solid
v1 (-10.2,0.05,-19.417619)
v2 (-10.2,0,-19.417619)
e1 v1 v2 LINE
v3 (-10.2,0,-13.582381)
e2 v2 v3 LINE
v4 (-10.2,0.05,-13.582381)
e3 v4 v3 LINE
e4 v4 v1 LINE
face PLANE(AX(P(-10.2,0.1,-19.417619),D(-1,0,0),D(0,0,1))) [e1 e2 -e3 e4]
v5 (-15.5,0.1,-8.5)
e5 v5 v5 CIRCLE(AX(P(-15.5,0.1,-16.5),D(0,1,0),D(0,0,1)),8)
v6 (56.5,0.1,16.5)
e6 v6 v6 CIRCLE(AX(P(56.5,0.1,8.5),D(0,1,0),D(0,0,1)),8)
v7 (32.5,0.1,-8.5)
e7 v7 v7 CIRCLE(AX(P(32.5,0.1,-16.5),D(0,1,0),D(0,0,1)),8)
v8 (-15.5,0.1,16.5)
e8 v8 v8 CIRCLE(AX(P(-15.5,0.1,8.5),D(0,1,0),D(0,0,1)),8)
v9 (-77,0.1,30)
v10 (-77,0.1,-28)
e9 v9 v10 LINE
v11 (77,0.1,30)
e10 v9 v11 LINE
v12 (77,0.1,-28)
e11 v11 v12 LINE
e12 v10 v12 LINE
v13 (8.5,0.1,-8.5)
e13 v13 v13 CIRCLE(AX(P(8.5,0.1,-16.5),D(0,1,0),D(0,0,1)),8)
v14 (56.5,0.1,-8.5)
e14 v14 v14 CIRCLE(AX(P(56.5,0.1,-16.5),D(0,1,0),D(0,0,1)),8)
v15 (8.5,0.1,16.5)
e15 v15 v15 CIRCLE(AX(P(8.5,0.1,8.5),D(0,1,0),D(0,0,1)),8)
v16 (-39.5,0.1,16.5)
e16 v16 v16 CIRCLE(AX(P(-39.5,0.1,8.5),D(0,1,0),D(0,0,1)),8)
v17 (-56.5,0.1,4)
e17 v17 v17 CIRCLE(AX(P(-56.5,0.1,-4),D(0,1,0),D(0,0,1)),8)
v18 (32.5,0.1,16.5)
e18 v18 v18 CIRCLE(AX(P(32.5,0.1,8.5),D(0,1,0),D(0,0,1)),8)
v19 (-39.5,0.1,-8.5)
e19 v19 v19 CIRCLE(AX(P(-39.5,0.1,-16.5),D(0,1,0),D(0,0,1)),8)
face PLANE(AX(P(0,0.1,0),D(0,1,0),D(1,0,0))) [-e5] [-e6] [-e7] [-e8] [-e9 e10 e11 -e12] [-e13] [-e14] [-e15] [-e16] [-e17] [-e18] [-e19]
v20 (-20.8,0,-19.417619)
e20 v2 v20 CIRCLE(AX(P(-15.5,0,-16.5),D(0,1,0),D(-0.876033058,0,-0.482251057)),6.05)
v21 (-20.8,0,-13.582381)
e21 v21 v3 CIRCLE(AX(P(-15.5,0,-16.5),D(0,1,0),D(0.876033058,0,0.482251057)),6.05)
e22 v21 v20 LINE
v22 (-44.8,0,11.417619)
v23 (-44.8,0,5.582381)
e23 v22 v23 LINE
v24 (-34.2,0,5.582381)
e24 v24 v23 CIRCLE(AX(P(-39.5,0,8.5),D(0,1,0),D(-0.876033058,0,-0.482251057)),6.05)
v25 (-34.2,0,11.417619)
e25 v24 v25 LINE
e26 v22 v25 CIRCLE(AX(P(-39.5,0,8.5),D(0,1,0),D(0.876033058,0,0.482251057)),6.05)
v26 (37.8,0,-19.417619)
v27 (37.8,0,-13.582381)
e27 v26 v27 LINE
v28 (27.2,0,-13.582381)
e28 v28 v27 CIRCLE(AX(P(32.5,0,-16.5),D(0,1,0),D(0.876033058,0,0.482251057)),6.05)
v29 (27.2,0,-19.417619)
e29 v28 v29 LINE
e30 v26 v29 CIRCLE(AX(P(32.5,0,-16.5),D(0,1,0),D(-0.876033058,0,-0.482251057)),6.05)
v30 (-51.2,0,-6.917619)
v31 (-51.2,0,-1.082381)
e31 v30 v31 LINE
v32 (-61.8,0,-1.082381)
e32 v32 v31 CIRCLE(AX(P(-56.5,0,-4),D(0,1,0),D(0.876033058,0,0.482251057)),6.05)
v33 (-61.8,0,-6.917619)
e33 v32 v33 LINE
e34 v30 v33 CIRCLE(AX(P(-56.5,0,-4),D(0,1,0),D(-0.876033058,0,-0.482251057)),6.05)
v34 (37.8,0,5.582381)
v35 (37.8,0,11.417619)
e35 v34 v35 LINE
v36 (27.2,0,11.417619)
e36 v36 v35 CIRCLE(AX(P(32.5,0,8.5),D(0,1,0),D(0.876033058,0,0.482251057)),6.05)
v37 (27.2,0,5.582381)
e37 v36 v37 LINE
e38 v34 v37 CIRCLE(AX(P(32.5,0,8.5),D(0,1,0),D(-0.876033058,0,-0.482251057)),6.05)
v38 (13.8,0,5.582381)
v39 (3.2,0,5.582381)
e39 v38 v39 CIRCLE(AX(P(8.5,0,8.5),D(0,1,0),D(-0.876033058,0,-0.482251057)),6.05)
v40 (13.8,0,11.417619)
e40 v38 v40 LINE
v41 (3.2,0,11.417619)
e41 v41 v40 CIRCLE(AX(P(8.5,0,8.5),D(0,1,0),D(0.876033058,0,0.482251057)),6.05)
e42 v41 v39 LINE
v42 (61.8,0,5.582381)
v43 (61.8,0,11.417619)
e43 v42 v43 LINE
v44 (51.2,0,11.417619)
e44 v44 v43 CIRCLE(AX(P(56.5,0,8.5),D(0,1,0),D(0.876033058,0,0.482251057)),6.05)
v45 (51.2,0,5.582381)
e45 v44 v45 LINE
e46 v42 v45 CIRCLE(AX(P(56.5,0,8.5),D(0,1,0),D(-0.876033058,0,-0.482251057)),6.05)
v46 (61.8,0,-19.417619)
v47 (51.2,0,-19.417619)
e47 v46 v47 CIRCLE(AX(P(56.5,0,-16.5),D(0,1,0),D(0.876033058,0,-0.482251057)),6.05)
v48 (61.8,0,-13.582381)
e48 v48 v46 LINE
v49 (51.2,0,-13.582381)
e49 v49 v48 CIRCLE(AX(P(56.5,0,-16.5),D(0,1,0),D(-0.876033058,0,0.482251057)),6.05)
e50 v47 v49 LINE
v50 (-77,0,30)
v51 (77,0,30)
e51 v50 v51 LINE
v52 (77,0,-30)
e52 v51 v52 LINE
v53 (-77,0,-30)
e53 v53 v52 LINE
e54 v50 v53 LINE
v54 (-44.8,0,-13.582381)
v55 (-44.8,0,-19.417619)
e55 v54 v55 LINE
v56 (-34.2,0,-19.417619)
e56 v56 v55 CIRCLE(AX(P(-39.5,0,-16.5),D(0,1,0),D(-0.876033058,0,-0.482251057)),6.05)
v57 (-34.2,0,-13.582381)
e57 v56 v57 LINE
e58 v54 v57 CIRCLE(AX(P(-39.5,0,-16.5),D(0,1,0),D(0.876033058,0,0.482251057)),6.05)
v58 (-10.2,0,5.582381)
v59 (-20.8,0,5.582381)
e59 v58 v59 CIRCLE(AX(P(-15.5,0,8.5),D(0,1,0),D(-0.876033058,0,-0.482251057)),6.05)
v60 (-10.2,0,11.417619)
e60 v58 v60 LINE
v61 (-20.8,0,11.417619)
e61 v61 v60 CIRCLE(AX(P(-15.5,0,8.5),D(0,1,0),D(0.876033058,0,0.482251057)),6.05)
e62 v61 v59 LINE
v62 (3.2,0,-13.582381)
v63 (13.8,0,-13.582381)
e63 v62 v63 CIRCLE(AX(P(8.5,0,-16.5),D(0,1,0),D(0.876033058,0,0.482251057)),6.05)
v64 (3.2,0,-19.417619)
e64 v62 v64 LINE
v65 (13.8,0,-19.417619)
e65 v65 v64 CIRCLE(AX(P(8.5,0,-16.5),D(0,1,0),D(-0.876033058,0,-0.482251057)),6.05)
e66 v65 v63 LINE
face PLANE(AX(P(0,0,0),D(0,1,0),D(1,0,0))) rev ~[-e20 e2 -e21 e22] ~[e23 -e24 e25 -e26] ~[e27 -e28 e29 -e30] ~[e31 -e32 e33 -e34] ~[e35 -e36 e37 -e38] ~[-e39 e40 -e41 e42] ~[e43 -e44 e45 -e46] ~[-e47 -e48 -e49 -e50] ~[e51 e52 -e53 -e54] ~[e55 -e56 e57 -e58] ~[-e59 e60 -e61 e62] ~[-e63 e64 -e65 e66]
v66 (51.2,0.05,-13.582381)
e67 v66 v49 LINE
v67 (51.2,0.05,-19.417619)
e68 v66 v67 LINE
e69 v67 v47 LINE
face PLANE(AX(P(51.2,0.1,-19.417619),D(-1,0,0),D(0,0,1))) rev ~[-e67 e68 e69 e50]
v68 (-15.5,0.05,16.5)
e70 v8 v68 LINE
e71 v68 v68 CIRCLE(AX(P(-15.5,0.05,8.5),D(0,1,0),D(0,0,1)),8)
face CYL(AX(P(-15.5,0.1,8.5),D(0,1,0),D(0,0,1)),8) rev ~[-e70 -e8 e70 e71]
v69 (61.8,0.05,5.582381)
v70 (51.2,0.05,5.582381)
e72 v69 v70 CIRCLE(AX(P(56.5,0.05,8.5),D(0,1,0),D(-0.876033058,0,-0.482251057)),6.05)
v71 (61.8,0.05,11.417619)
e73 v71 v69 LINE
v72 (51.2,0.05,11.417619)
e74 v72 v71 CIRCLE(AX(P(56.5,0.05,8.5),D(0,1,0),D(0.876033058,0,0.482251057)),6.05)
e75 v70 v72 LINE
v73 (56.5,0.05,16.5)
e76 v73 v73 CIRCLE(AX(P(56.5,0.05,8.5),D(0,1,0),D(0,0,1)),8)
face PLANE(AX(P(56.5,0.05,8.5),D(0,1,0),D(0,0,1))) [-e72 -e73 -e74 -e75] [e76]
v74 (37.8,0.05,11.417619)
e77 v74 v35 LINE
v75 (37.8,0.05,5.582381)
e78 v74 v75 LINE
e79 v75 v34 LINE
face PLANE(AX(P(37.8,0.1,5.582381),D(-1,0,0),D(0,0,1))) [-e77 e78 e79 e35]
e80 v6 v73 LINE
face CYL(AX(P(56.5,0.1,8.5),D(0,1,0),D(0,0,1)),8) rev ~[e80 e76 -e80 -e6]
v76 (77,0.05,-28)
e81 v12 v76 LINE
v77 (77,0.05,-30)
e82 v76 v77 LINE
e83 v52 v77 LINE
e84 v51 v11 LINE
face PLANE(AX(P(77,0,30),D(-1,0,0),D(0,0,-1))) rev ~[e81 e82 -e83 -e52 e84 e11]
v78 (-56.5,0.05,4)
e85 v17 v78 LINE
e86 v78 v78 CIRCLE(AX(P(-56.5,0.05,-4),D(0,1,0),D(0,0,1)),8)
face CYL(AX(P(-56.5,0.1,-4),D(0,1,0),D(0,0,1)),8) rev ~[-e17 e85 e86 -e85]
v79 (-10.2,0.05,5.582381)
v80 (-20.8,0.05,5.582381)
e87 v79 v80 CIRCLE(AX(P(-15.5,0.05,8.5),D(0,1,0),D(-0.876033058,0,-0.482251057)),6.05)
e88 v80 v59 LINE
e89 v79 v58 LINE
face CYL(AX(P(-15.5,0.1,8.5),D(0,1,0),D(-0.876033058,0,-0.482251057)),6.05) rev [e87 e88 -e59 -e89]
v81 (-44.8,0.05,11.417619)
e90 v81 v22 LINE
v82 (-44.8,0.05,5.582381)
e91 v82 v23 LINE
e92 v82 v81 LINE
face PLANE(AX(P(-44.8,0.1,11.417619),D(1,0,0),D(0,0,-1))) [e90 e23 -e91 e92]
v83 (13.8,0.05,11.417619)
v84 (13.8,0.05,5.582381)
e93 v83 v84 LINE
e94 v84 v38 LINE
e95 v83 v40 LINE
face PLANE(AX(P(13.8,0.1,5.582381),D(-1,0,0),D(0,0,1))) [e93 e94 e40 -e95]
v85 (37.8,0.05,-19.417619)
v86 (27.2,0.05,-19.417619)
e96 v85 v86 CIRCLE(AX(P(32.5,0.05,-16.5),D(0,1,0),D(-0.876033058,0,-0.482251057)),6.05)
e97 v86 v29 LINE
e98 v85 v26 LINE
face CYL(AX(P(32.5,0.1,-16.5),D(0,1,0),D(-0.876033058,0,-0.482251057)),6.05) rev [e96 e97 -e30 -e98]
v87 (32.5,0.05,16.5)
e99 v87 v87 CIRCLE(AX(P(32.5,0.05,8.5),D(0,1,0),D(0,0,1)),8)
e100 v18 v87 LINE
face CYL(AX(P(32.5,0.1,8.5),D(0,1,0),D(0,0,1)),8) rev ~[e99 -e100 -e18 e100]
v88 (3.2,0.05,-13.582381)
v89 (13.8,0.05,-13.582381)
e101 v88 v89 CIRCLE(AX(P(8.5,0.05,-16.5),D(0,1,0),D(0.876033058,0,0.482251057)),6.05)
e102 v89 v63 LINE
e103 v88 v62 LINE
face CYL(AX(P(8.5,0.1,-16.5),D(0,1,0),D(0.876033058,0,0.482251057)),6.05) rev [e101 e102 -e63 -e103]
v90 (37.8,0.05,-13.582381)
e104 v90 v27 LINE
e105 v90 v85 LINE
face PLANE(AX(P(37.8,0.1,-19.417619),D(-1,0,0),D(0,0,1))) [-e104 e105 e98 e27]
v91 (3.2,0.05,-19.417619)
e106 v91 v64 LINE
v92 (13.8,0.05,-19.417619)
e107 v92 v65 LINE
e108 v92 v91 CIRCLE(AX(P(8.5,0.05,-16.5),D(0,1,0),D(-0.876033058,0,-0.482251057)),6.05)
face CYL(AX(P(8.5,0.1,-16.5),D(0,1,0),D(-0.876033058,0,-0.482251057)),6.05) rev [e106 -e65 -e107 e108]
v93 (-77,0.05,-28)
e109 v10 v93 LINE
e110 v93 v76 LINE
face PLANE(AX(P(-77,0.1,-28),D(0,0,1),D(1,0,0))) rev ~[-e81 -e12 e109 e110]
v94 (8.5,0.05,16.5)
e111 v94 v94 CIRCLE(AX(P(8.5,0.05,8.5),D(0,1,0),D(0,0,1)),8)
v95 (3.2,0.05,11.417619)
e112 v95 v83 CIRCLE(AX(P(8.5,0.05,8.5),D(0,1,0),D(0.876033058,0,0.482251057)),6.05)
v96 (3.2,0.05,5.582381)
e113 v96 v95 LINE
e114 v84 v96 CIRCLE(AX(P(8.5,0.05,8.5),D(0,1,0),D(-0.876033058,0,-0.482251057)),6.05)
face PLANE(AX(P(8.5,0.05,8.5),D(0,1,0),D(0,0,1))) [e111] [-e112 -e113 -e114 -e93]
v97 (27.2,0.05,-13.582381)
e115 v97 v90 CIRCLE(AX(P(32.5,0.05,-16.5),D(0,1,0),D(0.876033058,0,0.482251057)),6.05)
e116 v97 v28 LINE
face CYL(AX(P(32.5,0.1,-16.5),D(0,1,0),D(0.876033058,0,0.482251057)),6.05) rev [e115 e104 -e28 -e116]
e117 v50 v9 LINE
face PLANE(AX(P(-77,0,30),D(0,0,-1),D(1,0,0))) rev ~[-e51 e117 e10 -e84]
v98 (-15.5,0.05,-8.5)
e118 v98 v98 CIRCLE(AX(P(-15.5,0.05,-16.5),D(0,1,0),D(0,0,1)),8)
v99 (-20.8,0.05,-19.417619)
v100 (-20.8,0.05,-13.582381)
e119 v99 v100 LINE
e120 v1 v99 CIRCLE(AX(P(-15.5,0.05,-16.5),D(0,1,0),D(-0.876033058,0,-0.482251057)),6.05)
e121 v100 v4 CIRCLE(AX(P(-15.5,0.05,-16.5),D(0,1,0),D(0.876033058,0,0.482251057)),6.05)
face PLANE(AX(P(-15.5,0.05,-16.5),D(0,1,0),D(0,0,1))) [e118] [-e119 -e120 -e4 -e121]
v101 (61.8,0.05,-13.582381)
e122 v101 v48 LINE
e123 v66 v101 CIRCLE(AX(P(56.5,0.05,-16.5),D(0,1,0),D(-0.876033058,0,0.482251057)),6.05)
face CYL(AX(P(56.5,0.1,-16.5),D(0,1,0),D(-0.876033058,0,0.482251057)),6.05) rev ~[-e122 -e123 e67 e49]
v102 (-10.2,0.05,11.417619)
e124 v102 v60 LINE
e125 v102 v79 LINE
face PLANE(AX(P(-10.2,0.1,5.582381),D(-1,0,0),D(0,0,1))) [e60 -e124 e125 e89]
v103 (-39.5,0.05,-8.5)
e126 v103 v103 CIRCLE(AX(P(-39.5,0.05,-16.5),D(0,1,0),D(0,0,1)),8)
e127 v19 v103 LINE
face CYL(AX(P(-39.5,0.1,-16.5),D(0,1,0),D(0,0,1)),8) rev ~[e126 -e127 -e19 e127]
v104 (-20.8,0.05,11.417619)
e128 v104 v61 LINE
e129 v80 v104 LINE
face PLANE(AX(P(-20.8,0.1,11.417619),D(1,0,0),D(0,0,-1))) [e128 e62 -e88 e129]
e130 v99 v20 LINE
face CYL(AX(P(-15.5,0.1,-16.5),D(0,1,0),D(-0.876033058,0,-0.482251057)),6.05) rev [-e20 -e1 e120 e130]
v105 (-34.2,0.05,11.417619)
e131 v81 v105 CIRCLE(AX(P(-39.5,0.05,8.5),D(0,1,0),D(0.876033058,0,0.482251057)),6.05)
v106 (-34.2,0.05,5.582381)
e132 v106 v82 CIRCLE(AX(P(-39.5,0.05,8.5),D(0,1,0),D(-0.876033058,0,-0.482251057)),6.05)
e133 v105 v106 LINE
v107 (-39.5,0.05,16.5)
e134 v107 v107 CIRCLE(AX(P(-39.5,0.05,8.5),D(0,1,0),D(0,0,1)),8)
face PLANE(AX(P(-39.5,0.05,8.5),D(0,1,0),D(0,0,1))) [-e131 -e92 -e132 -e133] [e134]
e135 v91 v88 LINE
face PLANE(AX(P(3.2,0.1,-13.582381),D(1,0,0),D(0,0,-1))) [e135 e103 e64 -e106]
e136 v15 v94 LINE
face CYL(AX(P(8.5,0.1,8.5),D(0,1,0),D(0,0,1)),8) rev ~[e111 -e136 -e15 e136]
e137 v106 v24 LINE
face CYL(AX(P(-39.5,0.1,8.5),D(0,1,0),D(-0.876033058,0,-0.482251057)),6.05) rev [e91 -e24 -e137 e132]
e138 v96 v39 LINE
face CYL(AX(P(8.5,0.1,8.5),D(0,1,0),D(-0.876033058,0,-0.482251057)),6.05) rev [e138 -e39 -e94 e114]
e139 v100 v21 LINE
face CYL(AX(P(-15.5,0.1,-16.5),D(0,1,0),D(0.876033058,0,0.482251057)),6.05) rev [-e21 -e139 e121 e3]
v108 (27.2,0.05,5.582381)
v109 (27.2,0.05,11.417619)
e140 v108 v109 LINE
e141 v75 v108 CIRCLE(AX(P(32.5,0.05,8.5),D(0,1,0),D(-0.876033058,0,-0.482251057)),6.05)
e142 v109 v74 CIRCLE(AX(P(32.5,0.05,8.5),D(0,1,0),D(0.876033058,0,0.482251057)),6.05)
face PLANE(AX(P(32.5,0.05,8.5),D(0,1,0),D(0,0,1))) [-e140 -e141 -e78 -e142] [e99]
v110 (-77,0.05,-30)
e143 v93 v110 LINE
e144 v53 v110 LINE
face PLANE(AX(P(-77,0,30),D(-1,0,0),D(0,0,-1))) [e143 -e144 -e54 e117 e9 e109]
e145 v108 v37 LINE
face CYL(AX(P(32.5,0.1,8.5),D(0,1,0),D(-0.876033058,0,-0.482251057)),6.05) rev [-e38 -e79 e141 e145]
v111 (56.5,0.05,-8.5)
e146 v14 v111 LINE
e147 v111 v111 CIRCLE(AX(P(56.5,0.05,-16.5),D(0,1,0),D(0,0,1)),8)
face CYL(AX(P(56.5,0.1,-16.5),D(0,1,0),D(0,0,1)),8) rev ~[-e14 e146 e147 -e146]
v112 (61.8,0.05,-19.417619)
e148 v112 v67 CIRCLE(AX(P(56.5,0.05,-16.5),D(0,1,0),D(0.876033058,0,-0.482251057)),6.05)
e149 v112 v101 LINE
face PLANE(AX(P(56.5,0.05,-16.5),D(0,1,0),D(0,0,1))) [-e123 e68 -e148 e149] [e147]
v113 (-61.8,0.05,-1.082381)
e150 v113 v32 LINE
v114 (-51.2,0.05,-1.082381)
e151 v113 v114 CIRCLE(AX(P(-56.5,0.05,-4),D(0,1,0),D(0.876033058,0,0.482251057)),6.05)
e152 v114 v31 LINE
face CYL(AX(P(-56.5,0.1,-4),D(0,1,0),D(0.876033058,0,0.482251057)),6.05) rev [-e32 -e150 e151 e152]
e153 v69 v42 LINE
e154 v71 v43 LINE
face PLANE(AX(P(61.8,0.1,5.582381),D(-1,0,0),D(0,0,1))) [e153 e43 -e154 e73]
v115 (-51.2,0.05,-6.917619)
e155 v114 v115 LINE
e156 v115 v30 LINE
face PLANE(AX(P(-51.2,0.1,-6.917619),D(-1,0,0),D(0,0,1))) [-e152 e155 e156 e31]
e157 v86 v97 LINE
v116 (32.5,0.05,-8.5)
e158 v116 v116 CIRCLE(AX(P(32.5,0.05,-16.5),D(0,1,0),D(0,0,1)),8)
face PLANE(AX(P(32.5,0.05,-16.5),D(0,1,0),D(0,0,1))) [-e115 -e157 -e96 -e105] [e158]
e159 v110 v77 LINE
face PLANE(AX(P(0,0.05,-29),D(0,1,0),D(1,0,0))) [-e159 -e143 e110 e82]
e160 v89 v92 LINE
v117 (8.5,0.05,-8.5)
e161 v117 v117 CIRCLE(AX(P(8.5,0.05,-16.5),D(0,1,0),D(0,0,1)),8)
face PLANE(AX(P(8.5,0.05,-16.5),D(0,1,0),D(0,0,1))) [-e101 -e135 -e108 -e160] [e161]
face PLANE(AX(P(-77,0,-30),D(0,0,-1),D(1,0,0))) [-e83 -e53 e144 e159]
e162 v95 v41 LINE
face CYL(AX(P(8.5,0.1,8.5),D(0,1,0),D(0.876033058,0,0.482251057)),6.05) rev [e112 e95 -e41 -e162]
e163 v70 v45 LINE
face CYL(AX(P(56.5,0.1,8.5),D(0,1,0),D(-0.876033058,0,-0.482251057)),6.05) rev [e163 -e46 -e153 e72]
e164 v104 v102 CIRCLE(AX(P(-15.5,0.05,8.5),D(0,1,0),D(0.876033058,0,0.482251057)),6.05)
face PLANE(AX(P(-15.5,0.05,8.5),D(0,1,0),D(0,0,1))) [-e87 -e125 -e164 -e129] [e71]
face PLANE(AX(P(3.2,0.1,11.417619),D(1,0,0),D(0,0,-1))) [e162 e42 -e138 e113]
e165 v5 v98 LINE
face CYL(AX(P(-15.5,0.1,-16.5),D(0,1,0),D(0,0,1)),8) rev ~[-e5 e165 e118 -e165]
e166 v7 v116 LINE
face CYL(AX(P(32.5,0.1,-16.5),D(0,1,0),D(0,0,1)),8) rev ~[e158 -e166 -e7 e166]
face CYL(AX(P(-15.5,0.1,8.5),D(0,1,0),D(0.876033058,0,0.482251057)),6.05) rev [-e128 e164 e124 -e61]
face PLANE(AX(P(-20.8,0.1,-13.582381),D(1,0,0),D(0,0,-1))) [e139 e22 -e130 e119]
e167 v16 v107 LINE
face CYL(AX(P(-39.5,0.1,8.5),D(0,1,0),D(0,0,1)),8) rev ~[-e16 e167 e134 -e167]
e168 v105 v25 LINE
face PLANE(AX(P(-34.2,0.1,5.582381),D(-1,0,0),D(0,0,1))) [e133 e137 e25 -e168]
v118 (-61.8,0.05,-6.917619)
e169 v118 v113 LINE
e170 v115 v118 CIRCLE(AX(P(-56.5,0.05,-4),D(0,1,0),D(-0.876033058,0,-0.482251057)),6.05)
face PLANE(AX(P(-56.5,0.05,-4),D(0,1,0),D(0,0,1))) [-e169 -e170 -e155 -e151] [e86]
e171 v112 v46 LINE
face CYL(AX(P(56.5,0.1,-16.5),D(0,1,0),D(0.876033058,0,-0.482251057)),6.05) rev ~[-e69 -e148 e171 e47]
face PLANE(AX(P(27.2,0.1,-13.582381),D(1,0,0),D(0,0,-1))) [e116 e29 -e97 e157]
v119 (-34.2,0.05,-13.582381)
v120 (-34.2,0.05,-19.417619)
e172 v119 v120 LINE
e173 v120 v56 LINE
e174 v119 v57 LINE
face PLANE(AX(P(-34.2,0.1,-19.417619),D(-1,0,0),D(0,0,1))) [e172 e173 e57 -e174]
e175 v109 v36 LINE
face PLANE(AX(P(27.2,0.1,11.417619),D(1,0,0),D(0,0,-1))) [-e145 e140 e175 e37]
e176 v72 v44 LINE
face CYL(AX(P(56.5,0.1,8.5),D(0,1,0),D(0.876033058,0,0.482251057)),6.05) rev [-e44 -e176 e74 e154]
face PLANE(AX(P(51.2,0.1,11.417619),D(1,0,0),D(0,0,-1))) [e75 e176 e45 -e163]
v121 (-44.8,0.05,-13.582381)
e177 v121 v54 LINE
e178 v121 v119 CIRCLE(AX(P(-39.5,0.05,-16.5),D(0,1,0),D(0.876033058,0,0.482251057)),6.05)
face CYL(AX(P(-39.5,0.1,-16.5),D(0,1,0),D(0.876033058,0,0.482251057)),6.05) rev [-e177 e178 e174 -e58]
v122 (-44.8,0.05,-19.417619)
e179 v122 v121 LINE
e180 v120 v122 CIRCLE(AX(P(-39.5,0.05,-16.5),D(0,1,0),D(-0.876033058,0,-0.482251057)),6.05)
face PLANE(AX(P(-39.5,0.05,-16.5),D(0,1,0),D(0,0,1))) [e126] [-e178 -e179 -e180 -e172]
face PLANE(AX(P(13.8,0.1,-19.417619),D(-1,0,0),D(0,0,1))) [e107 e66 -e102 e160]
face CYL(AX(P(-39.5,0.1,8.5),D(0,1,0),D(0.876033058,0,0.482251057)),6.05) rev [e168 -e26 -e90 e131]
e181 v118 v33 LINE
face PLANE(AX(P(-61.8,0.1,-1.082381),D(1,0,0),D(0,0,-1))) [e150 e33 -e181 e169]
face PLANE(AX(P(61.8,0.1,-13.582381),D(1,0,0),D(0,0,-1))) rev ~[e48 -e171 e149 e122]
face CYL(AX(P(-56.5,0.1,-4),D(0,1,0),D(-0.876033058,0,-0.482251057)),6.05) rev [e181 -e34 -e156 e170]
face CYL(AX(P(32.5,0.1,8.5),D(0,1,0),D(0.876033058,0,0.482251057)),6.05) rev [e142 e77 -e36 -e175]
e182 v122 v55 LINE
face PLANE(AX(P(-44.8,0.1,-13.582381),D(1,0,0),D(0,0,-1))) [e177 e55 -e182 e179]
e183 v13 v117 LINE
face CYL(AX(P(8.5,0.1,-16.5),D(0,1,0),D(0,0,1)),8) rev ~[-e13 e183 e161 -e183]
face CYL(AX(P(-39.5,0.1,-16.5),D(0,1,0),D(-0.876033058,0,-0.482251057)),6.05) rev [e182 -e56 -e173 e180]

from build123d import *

# Parameters (mm, degrees)
SKETCH1_W           = 154
SKETCH1_H           = 60
BOSS_EXTRUDE1_DEPTH = 0.1
CUT_EXTRUDE1_DEPTH  = 83.63782427
SKETCH3_R           = 8
SKETCH3_W           = 154
SKETCH3_H           = 2
CUT_EXTRUDE2_DEPTH  = 0.05


with BuildPart() as part:
    # Sketch1 → Boss-Extrude1 (new body)
    with BuildSketch(Plane(origin=(0, 0, 0), x_dir=(1, 0, 0), z_dir=(0, 1, 0))):
        Rectangle(SKETCH1_W, SKETCH1_H)
    extrude(amount=BOSS_EXTRUDE1_DEPTH)

    # Sketch2 → Cut-Extrude1 (cut, through all)
    with BuildSketch(Plane(origin=(0, 0.1, 0), x_dir=(1, 0, 0), z_dir=(0, 1, 0))):
        with BuildLine():
            Line((51.2, 19.417618892), (51.2, 13.582381108))
            ThreePointArc((51.2, 13.582381108), (56.5, 10.45), (61.8, 13.582381108))
            Line((61.8, 13.582381108), (61.8, 19.417618892))
            ThreePointArc((61.8, 19.417618892), (56.5, 22.55), (51.2, 19.417618892))
        make_face()
        with BuildLine():
            Line((37.8, 19.417618892), (37.8, 13.582381108))
            ThreePointArc((37.8, 13.582381108), (32.5, 10.45), (27.2, 13.582381108))
            Line((27.2, 13.582381108), (27.2, 19.417618892))
            ThreePointArc((27.2, 19.417618892), (32.5, 22.55), (37.8, 19.417618892))
        make_face()
        with BuildLine():
            Line((13.8, 19.417618892), (13.8, 13.582381108))
            ThreePointArc((13.8, 13.582381108), (8.5, 10.45), (3.2, 13.582381108))
            Line((3.2, 13.582381108), (3.2, 19.417618892))
            ThreePointArc((3.2, 19.417618892), (8.5, 22.55), (13.8, 19.417618892))
        make_face()
        with BuildLine():
            Line((-10.2, 19.417618892), (-10.2, 13.582381108))
            ThreePointArc((-10.2, 13.582381108), (-15.5, 10.45), (-20.8, 13.582381108))
            Line((-20.8, 13.582381108), (-20.8, 19.417618892))
            ThreePointArc((-20.8, 19.417618892), (-15.5, 22.55), (-10.2, 19.417618892))
        make_face()
        with BuildLine():
            Line((-34.2, 19.417618892), (-34.2, 13.582381108))
            ThreePointArc((-34.2, 13.582381108), (-39.5, 10.45), (-44.8, 13.582381108))
            Line((-44.8, 13.582381108), (-44.8, 19.417618892))
            ThreePointArc((-44.8, 19.417618892), (-39.5, 22.55), (-34.2, 19.417618892))
        make_face()
        with BuildLine():
            Line((37.8, -5.582381108), (37.8, -11.417618892))
            ThreePointArc((37.8, -11.417618892), (32.5, -14.55), (27.2, -11.417618892))
            Line((27.2, -11.417618892), (27.2, -5.582381108))
            ThreePointArc((27.2, -5.582381108), (32.5, -2.45), (37.8, -5.582381108))
        make_face()
        with BuildLine():
            Line((13.8, -5.582381108), (13.8, -11.417618892))
            ThreePointArc((13.8, -11.417618892), (8.5, -14.55), (3.2, -11.417618892))
            Line((3.2, -11.417618892), (3.2, -5.582381108))
            ThreePointArc((3.2, -5.582381108), (8.5, -2.45), (13.8, -5.582381108))
        make_face()
        with BuildLine():
            Line((-10.2, -5.582381108), (-10.2, -11.417618892))
            ThreePointArc((-10.2, -11.417618892), (-15.5, -14.55), (-20.8, -11.417618892))
            Line((-20.8, -11.417618892), (-20.8, -5.582381108))
            ThreePointArc((-20.8, -5.582381108), (-15.5, -2.45), (-10.2, -5.582381108))
        make_face()
        with BuildLine():
            Line((-34.2, -5.582381108), (-34.2, -11.417618892))
            ThreePointArc((-34.2, -11.417618892), (-39.5, -14.55), (-44.8, -11.417618892))
            Line((-44.8, -11.417618892), (-44.8, -5.582381108))
            ThreePointArc((-44.8, -5.582381108), (-39.5, -2.45), (-34.2, -5.582381108))
        make_face()
        with BuildLine():
            Line((61.8, -5.582381108), (61.8, -11.417618892))
            ThreePointArc((61.8, -11.417618892), (56.5, -14.55), (51.2, -11.417618892))
            Line((51.2, -11.417618892), (51.2, -5.582381108))
            ThreePointArc((51.2, -5.582381108), (56.5, -2.45), (61.8, -5.582381108))
        make_face()
        with BuildLine():
            Line((-51.2, 6.917618892), (-51.2, 1.082381108))
            ThreePointArc((-51.2, 1.082381108), (-56.5, -2.05), (-61.8, 1.082381108))
            Line((-61.8, 1.082381108), (-61.8, 6.917618892))
            ThreePointArc((-61.8, 6.917618892), (-56.5, 10.05), (-51.2, 6.917618892))
        make_face()
    extrude(amount=-CUT_EXTRUDE1_DEPTH, mode=Mode.SUBTRACT)

    # Sketch3 → Cut-Extrude2 (cut)
    with BuildSketch(Plane(origin=(0, 0.1, 0), x_dir=(1, 0, 0), z_dir=(0, 1, 0))):
        with Locations(Location((-56.5, 4, 0), (0, 0, 270))):
            Circle(SKETCH3_R)
        with Locations(Location((56.5, 16.5, 0), (0, 0, 270))):
            Circle(SKETCH3_R)
        with Locations(Location((32.5, 16.5, 0), (0, 0, 270))):
            Circle(SKETCH3_R)
        with Locations(Location((8.5, 16.5, 0), (0, 0, 270))):
            Circle(SKETCH3_R)
        with Locations(Location((-15.5, 16.5, 0), (0, 0, 270))):
            Circle(SKETCH3_R)
        with Locations(Location((-39.5, 16.5, 0), (0, 0, 270))):
            Circle(SKETCH3_R)
        with Locations(Location((32.5, -8.5, 0), (0, 0, 270))):
            Circle(SKETCH3_R)
        with Locations(Location((8.5, -8.5, 0), (0, 0, 270))):
            Circle(SKETCH3_R)
        with Locations(Location((-15.5, -8.5, 0), (0, 0, 270))):
            Circle(SKETCH3_R)
        with Locations(Location((-39.5, -8.5, 0), (0, 0, 270))):
            Circle(SKETCH3_R)
        with Locations(Location((56.5, -8.5, 0), (0, 0, 270))):
            Circle(SKETCH3_R)
        with Locations((0, 29)):
            Rectangle(SKETCH3_W, SKETCH3_H)
    extrude(amount=-CUT_EXTRUDE2_DEPTH, mode=Mode.SUBTRACT)


solid = part.part
